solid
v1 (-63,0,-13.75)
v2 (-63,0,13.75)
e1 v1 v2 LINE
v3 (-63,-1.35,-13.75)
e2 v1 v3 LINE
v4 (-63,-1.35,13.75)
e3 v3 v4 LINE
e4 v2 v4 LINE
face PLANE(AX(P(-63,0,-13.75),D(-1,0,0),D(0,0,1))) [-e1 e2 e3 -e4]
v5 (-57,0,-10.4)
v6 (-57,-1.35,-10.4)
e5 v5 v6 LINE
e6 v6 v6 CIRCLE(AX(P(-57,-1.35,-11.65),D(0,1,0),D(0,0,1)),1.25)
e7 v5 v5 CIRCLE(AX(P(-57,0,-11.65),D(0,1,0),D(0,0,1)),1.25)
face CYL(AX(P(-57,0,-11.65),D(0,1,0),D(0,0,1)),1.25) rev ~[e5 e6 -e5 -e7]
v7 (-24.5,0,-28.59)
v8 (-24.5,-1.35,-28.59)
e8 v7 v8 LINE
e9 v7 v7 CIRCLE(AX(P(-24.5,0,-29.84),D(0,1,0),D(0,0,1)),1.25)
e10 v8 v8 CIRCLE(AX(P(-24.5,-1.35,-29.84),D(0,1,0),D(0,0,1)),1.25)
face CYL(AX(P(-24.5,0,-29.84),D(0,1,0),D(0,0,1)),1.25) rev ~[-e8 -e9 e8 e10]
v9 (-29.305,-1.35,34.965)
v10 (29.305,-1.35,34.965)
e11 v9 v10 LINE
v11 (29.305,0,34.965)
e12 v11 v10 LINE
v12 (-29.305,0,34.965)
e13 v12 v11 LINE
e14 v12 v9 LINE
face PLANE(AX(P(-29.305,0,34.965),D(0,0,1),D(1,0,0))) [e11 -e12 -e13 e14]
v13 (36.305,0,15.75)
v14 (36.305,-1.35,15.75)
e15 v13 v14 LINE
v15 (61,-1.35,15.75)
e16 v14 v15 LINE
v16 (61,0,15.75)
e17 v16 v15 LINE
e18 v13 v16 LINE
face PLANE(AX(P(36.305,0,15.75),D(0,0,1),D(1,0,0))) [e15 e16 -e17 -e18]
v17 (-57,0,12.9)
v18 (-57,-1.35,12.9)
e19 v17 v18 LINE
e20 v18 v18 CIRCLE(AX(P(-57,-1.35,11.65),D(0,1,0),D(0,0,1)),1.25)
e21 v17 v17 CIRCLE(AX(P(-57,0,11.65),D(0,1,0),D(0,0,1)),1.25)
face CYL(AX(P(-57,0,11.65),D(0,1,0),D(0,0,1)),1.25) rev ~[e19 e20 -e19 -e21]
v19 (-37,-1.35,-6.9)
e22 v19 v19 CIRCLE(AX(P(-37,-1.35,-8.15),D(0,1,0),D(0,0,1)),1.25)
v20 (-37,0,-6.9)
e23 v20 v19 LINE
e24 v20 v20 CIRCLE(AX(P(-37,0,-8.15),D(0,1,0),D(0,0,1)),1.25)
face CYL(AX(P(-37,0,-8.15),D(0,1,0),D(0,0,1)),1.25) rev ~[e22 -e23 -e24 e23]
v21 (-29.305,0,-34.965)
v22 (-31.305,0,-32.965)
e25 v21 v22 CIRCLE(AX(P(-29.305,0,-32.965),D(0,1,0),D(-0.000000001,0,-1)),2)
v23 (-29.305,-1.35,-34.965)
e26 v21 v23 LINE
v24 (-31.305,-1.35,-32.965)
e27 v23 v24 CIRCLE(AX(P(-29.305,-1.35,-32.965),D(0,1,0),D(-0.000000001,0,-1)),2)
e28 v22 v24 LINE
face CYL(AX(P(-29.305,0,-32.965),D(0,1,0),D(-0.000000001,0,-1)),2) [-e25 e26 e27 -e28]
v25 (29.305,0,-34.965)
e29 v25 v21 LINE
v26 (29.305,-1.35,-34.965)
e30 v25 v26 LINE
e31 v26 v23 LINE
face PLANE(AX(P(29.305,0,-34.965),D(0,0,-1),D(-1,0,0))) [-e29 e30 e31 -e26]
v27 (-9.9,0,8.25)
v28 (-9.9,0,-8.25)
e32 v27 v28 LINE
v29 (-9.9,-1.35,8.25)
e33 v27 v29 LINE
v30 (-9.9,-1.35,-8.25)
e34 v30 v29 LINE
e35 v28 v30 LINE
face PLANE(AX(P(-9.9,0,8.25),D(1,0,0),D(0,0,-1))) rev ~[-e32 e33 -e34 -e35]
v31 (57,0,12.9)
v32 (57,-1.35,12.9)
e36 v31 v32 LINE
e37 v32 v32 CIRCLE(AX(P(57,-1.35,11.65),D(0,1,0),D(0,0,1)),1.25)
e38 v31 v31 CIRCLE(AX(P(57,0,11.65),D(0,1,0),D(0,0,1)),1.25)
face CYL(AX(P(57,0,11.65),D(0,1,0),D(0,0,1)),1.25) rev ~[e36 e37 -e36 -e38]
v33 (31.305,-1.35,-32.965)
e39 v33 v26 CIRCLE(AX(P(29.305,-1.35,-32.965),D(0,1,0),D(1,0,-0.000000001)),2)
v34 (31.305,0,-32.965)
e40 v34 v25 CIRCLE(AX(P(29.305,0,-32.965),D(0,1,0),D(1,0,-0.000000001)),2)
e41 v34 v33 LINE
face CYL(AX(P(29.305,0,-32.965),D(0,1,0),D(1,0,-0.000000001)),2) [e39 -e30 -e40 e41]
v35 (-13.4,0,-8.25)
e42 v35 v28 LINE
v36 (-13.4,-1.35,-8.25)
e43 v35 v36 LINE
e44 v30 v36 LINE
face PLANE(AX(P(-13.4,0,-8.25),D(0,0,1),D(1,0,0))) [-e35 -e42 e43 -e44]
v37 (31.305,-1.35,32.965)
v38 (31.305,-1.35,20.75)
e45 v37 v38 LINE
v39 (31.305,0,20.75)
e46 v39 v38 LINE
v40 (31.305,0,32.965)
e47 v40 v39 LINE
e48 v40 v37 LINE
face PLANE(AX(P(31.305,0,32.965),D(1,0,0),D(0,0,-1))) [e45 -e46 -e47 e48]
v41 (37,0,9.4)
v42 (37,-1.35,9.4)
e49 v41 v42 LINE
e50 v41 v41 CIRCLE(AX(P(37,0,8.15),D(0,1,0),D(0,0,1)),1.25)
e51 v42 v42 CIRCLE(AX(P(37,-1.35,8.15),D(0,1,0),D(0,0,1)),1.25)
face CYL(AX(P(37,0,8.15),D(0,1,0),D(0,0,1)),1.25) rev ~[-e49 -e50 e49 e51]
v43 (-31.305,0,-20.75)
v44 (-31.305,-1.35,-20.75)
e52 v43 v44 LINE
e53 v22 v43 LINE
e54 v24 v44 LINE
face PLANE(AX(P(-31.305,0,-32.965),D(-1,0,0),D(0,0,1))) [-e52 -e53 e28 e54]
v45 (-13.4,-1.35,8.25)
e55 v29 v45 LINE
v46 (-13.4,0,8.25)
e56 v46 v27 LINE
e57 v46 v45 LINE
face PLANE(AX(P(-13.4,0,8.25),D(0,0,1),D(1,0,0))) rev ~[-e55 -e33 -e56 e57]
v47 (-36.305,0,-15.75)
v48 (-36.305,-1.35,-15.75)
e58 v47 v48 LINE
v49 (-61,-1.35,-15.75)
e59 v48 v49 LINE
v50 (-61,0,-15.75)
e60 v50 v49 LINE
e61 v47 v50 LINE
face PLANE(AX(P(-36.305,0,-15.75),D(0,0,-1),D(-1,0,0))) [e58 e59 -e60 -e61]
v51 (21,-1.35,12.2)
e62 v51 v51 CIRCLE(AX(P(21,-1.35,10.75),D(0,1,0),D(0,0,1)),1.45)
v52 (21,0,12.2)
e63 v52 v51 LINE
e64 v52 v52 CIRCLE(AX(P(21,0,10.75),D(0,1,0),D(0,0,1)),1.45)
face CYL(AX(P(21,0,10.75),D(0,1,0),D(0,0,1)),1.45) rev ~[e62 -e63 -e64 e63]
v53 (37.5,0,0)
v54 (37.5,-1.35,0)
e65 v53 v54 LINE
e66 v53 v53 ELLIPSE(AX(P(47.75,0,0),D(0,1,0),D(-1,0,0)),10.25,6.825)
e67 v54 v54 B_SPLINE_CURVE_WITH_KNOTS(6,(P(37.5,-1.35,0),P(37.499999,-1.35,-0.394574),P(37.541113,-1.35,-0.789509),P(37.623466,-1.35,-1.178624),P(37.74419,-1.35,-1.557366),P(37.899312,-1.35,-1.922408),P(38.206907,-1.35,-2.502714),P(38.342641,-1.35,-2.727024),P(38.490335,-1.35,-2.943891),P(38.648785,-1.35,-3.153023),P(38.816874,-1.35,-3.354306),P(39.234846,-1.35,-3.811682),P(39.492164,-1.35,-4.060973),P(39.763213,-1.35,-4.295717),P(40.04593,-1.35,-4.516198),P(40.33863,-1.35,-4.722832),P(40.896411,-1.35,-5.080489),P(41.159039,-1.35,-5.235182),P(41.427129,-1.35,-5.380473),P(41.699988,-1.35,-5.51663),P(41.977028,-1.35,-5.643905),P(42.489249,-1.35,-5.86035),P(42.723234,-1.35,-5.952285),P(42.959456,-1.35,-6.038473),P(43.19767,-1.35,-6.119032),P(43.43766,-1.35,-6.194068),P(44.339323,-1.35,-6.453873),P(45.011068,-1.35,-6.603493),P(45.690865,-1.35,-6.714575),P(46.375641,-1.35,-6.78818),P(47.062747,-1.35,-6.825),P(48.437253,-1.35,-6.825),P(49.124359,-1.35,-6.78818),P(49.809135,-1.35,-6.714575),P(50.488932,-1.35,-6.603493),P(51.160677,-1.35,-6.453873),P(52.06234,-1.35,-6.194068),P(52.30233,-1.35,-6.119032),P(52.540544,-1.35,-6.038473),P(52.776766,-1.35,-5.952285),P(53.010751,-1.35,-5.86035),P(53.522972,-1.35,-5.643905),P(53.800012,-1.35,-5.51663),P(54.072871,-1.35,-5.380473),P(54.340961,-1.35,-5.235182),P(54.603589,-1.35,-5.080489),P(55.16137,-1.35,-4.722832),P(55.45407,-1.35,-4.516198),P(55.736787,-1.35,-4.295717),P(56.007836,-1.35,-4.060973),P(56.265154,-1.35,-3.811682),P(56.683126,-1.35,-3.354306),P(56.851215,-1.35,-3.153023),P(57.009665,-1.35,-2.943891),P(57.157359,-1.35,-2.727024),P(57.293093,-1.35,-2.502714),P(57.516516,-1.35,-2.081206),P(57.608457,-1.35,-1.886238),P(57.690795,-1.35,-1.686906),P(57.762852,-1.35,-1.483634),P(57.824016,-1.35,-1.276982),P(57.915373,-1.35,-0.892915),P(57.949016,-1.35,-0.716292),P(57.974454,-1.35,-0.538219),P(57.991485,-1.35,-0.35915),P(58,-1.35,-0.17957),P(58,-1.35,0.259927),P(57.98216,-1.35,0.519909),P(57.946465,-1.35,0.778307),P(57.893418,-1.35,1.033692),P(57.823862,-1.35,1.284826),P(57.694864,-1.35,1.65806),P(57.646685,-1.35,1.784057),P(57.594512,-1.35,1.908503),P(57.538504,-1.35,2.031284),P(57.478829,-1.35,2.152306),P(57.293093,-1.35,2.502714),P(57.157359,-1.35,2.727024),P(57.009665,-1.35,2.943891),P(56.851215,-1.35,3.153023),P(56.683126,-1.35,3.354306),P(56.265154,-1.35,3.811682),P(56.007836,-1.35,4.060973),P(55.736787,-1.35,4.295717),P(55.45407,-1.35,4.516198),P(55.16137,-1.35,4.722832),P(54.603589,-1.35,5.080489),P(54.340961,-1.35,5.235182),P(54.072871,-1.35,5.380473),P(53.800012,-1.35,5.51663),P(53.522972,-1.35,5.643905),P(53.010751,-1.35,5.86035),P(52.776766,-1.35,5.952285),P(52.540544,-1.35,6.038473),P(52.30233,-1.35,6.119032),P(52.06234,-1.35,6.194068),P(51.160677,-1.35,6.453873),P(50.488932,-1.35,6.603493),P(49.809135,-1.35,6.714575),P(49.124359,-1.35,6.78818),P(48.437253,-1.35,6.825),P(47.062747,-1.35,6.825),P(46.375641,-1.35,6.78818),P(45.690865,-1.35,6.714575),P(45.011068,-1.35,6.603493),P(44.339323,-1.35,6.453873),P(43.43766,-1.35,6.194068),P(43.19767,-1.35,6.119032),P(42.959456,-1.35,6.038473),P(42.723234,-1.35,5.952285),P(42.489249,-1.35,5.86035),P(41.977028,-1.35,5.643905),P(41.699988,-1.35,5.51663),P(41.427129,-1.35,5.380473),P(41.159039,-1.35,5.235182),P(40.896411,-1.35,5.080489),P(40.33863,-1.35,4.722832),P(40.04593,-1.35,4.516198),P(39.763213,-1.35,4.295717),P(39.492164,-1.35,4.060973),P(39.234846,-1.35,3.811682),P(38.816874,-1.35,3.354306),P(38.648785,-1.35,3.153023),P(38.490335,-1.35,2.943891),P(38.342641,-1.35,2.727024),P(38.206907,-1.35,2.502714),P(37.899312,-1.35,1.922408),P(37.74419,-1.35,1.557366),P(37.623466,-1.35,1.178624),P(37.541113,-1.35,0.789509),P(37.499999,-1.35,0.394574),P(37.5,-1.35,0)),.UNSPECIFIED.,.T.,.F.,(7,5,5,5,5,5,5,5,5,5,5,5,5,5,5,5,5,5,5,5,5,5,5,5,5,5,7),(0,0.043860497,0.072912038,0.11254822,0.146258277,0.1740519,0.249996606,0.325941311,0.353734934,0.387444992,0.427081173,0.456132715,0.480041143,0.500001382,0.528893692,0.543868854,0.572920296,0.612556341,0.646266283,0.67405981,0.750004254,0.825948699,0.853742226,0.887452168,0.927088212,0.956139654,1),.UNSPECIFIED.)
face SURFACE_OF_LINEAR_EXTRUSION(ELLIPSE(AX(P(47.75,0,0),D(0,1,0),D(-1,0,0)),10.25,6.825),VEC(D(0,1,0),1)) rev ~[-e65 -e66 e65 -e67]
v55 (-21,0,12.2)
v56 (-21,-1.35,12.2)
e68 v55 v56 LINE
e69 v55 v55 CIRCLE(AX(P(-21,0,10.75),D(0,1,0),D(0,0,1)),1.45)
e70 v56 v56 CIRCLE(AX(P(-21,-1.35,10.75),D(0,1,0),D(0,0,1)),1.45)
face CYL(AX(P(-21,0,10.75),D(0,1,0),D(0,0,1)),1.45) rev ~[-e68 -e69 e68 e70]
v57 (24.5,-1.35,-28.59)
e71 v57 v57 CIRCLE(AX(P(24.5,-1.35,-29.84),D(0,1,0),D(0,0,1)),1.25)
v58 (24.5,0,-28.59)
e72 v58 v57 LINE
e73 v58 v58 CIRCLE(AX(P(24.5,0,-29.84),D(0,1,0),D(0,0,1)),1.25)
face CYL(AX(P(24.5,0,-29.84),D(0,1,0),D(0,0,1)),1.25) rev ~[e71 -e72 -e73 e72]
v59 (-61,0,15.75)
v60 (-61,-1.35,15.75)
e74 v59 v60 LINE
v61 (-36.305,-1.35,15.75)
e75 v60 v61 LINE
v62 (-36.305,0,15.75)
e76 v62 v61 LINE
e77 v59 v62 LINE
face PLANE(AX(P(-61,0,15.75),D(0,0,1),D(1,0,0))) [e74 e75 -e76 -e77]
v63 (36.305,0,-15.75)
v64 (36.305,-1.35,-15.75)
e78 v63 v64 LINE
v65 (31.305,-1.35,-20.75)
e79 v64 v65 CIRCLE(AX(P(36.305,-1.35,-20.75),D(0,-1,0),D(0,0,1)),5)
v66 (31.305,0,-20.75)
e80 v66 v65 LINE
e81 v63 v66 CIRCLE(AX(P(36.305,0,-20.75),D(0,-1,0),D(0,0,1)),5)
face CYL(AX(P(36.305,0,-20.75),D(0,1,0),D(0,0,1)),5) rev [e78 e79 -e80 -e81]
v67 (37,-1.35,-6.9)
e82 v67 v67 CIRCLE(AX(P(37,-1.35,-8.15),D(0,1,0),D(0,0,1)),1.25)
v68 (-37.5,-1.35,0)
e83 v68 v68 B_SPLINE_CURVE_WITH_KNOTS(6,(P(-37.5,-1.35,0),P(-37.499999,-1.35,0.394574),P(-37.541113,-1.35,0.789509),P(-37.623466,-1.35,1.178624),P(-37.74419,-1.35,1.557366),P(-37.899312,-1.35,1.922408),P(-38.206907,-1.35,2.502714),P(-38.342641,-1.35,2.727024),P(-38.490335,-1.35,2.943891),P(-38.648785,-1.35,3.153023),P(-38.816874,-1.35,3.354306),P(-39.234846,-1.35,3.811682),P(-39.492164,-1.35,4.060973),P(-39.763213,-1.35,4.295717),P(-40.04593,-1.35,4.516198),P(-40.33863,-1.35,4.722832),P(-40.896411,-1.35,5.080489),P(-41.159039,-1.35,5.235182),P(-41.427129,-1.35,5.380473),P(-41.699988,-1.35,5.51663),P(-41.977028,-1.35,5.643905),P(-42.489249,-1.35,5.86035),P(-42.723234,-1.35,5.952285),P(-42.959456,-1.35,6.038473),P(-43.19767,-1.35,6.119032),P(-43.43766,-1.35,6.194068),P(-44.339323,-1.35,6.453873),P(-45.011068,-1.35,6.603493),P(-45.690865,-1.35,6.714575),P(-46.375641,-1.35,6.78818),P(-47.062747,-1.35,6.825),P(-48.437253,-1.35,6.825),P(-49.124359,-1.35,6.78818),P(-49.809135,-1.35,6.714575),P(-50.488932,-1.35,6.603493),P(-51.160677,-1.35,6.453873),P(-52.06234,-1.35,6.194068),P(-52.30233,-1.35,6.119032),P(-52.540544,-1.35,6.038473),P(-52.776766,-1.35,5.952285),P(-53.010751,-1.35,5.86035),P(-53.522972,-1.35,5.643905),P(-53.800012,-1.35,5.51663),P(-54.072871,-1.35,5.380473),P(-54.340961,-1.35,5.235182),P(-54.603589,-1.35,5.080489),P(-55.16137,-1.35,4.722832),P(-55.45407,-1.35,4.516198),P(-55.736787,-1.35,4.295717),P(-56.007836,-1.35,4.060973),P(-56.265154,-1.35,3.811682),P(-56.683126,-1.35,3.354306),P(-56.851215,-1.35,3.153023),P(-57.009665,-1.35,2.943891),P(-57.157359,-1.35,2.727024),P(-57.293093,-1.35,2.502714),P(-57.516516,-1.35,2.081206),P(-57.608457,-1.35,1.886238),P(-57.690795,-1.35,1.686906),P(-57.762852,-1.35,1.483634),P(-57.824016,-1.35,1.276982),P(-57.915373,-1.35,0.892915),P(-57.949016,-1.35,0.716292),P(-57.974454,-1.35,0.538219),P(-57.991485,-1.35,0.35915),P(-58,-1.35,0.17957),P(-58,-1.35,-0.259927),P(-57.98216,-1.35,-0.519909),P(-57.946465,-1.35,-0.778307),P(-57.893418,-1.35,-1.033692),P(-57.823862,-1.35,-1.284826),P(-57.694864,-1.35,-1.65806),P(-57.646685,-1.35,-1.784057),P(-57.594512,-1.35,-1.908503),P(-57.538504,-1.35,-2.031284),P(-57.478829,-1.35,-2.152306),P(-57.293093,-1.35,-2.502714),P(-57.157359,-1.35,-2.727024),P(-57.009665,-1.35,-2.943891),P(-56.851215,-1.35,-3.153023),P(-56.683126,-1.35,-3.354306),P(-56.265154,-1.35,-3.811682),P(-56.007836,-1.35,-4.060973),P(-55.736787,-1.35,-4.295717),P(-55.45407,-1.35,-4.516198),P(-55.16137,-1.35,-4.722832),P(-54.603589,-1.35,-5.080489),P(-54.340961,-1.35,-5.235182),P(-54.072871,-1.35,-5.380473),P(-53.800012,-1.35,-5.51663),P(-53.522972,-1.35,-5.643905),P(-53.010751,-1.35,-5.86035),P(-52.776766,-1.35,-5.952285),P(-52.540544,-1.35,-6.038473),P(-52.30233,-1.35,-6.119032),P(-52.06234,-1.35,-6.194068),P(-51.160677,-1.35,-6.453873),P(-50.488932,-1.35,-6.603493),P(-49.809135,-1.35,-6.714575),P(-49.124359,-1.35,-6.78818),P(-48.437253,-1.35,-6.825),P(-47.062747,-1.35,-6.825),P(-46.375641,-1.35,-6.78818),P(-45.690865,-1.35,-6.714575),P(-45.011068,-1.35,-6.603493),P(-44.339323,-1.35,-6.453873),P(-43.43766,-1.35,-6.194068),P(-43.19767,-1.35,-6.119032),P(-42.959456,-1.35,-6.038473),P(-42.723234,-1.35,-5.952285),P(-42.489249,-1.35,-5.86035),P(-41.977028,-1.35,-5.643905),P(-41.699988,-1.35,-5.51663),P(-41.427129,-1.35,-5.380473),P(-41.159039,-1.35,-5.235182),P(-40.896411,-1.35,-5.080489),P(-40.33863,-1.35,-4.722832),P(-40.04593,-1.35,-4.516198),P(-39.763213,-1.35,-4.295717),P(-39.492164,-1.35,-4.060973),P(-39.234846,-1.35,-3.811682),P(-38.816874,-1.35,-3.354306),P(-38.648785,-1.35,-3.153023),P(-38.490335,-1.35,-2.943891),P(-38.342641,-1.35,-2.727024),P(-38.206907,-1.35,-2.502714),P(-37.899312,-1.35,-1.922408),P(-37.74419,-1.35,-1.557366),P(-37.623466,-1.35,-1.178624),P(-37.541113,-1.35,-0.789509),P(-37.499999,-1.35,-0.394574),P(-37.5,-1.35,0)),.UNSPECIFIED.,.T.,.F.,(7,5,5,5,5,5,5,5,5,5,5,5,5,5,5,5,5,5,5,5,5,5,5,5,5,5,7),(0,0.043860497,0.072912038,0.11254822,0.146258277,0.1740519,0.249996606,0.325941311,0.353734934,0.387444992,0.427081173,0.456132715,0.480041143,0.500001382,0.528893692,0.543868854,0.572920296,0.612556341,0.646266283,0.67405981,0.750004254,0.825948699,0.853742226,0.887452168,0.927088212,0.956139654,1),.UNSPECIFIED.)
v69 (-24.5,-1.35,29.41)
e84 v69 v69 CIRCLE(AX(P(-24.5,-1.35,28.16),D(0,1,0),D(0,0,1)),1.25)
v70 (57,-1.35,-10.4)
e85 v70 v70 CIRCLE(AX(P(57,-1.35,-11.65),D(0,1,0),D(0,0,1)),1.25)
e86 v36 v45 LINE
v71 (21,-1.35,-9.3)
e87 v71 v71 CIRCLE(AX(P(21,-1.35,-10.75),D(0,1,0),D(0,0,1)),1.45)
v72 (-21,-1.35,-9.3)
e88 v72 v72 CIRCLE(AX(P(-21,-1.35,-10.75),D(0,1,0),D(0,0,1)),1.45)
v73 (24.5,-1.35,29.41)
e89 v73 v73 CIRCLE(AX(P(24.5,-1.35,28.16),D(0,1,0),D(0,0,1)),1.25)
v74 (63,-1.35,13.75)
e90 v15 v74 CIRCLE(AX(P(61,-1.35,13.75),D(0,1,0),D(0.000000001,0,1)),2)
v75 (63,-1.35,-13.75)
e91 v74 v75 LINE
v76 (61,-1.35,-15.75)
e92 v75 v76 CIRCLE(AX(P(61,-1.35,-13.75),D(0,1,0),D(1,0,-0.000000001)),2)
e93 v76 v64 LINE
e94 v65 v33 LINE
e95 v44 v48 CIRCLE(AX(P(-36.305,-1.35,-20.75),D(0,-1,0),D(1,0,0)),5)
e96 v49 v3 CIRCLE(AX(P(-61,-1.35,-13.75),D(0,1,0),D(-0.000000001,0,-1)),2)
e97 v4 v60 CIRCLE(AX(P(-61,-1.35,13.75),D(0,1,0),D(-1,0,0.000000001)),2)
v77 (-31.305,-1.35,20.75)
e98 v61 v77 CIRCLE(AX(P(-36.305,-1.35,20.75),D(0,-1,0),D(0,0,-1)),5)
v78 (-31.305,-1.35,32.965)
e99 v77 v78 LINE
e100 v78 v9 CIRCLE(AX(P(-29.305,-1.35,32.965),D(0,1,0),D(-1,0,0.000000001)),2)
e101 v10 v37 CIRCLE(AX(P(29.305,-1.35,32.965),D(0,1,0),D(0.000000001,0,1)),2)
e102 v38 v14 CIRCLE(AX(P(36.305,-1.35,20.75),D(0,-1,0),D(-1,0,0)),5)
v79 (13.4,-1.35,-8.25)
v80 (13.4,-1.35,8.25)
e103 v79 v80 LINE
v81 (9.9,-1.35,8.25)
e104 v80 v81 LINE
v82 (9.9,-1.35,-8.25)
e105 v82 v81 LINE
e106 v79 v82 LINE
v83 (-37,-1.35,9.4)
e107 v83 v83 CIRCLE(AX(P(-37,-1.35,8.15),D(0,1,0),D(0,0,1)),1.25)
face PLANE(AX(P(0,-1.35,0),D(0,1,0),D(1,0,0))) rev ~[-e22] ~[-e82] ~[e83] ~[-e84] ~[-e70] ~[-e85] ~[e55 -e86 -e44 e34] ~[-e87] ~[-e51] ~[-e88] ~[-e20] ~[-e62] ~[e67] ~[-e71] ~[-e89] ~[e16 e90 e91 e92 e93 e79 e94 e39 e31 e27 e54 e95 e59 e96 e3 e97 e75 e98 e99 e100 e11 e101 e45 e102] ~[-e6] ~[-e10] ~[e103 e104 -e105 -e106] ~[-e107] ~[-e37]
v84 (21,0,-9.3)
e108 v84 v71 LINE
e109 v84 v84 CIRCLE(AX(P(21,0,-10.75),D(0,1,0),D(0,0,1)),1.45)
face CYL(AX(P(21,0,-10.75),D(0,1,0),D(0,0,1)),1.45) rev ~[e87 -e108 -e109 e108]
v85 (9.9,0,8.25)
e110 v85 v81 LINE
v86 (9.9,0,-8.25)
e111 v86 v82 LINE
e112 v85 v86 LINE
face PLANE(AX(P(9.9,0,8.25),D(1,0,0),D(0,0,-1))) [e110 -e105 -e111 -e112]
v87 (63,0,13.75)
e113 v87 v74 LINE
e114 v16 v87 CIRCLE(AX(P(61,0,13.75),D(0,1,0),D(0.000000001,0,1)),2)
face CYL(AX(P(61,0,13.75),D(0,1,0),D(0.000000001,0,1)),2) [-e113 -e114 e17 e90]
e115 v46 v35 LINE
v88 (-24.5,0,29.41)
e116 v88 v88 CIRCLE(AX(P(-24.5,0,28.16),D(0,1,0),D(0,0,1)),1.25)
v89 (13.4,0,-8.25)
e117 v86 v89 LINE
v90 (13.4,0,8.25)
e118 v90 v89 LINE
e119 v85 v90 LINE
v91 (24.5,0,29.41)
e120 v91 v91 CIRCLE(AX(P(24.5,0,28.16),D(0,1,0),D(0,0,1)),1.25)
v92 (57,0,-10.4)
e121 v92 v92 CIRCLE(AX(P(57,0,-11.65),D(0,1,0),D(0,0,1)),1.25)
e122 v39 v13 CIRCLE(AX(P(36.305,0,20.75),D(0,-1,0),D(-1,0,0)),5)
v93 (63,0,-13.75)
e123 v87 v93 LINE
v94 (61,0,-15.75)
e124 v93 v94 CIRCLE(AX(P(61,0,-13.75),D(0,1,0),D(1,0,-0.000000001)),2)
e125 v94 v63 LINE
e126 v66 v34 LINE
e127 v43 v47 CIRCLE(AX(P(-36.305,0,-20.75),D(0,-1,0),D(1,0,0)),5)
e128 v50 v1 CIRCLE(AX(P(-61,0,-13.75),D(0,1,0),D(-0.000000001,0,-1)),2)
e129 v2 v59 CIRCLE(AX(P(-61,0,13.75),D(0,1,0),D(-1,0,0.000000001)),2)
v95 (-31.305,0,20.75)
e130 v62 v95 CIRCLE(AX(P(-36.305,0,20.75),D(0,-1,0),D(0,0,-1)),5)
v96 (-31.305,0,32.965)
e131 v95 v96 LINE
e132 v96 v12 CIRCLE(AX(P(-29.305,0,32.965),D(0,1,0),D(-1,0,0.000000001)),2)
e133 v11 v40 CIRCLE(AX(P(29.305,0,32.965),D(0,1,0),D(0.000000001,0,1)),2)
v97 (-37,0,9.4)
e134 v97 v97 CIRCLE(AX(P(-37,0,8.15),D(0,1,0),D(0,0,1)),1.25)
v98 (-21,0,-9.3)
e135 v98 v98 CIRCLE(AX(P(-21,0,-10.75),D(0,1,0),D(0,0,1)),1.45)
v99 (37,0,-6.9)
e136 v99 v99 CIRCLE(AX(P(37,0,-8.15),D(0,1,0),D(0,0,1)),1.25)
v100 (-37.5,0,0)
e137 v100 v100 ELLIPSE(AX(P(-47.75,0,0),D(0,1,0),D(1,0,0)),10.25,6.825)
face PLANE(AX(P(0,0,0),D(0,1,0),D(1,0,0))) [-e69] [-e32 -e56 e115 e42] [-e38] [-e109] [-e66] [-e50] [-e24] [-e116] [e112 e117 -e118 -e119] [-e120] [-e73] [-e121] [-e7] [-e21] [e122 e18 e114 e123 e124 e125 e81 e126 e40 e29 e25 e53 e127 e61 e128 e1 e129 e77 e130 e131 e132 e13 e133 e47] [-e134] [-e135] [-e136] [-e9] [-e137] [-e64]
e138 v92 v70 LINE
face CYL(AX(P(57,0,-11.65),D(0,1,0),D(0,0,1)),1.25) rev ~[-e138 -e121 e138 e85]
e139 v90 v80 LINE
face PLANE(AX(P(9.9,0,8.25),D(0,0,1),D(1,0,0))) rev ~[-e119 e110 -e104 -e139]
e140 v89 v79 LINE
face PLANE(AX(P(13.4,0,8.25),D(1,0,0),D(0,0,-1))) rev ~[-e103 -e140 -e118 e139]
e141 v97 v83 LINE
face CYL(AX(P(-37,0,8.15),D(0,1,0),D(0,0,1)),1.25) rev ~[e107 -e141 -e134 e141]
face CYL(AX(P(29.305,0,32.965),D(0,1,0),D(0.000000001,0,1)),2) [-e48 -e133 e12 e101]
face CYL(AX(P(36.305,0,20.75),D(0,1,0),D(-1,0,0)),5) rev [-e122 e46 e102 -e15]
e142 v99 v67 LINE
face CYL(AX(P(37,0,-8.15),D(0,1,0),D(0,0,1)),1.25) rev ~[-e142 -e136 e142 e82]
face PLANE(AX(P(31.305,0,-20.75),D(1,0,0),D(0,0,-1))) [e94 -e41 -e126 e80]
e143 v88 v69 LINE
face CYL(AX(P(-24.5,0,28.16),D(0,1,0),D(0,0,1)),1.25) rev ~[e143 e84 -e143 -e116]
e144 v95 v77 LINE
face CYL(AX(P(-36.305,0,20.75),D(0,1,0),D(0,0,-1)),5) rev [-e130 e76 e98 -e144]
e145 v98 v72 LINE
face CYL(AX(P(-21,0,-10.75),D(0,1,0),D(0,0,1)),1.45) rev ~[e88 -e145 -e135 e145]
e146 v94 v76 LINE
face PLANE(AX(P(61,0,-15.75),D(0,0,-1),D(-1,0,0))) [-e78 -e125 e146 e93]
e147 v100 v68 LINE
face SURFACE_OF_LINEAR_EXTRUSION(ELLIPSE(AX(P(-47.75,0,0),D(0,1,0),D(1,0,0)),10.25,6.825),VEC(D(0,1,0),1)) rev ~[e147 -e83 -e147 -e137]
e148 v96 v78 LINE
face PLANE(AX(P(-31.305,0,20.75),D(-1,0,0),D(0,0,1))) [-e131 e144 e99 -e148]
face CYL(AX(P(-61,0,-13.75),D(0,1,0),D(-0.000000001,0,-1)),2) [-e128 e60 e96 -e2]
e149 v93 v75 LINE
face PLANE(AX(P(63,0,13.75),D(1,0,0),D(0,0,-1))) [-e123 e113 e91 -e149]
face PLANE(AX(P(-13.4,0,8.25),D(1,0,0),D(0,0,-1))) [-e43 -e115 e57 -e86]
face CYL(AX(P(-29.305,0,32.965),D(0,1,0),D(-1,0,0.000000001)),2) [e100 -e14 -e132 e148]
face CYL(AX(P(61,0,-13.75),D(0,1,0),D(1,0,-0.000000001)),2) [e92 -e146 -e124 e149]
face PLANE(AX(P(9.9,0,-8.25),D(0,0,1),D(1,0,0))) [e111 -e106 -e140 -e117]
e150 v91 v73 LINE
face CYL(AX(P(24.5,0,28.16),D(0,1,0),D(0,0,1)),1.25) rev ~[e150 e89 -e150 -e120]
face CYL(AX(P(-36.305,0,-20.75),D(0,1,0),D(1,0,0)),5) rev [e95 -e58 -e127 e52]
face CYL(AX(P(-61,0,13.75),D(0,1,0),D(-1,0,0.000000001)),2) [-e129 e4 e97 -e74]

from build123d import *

# Parameters (mm, degrees)
SKETCH2_R           = 1.45
SKETCH2_R_2         = 1.25
BOSS_EXTRUDE1_DEPTH = 1.35
CUT_EXTRUDE1_REACH  = 74.065
SKETCH5_RX          = 10.25
SKETCH5_RY          = 6.825
SKETCH5_W           = 3.5
SKETCH5_H           = 16.5


with BuildPart() as part:
    # Sketch2 → Boss-Extrude1 (new body)
    with BuildSketch(Plane(origin=(0, 0, 0), x_dir=(1, 0, 0), z_dir=(0, 1, 0))):
        with BuildLine():
            Line((-29.305, -34.965), (29.305, -34.965))
            ThreePointArc((29.305, -34.965), (30.719213562, -34.379213562), (31.305, -32.965))
            Line((31.305, -32.965), (31.305, -20.75))
            ThreePointArc((31.305, -20.75), (32.769466094, -17.214466094), (36.305, -15.75))
            Line((36.305, -15.75), (61, -15.75))
            ThreePointArc((61, -15.75), (62.414213562, -15.164213562), (63, -13.75))
            Line((63, -13.75), (63, 13.75))
            ThreePointArc((63, 13.75), (62.414213562, 15.164213562), (61, 15.75))
            Line((61, 15.75), (36.305, 15.75))
            ThreePointArc((36.305, 15.75), (32.769466094, 17.214466094), (31.305, 20.75))
            Line((31.305, 20.75), (31.305, 32.965))
            ThreePointArc((31.305, 32.965), (30.719213562, 34.379213562), (29.305, 34.965))
            Line((29.305, 34.965), (-29.305, 34.965))
            ThreePointArc((-29.305, 34.965), (-30.719213562, 34.379213562), (-31.305, 32.965))
            Line((-31.305, 32.965), (-31.305, 20.75))
            ThreePointArc((-31.305, 20.75), (-32.769466094, 17.214466094), (-36.305, 15.75))
            Line((-36.305, 15.75), (-61, 15.75))
            ThreePointArc((-61, 15.75), (-62.414213562, 15.164213562), (-63, 13.75))
            Line((-63, 13.75), (-63, -13.75))
            ThreePointArc((-63, -13.75), (-62.414213562, -15.164213562), (-61, -15.75))
            Line((-61, -15.75), (-36.305, -15.75))
            ThreePointArc((-36.305, -15.75), (-32.769466094, -17.214466094), (-31.305, -20.75))
            Line((-31.305, -20.75), (-31.305, -32.965))
            ThreePointArc((-31.305, -32.965), (-30.719213562, -34.379213562), (-29.305, -34.965))
        make_face()
        with Locations(Location((21, -10.75, 0), (0, 0, 270))):
            Circle(SKETCH2_R, mode=Mode.SUBTRACT)
        with Locations(Location((21, 10.75, 0), (0, 0, 270))):
            Circle(SKETCH2_R, mode=Mode.SUBTRACT)
        with Locations(Location((-21, 10.75, 0), (0, 0, 270))):
            Circle(SKETCH2_R, mode=Mode.SUBTRACT)
        with Locations(Location((-24.5, 29.84, 0), (0, 0, 270))):
            Circle(SKETCH2_R_2, mode=Mode.SUBTRACT)
        with Locations(Location((-21, -10.75, 0), (0, 0, 270))):
            Circle(SKETCH2_R, mode=Mode.SUBTRACT)
        with Locations(Location((-24.5, -28.16, 0), (0, 0, 270))):
            Circle(SKETCH2_R_2, mode=Mode.SUBTRACT)
        with Locations(Location((-57, -11.65, 0), (0, 0, 270))):
            Circle(SKETCH2_R_2, mode=Mode.SUBTRACT)
        with Locations(Location((24.5, -28.16, 0), (0, 0, 270))):
            Circle(SKETCH2_R_2, mode=Mode.SUBTRACT)
        with Locations(Location((-57, 11.65, 0), (0, 0, 270))):
            Circle(SKETCH2_R_2, mode=Mode.SUBTRACT)
        with Locations(Location((24.5, 29.84, 0), (0, 0, 270))):
            Circle(SKETCH2_R_2, mode=Mode.SUBTRACT)
        with Locations(Location((57, 11.65, 0), (0, 0, 270))):
            Circle(SKETCH2_R_2, mode=Mode.SUBTRACT)
        with Locations(Location((-37, 8.15, 0), (0, 0, 270))):
            Circle(SKETCH2_R_2, mode=Mode.SUBTRACT)
        with Locations(Location((-37, -8.15, 0), (0, 0, 270))):
            Circle(SKETCH2_R_2, mode=Mode.SUBTRACT)
        with Locations(Location((37, -8.15, 0), (0, 0, 270))):
            Circle(SKETCH2_R_2, mode=Mode.SUBTRACT)
        with Locations(Location((37, 8.15, 0), (0, 0, 270))):
            Circle(SKETCH2_R_2, mode=Mode.SUBTRACT)
        with Locations(Location((57, -11.65, 0), (0, 0, 270))):
            Circle(SKETCH2_R_2, mode=Mode.SUBTRACT)
    extrude(amount=-BOSS_EXTRUDE1_DEPTH)

    # Sketch5 → Cut-Extrude1 (cut, up to next)
    with BuildSketch(Plane(origin=(0, 0, 0), x_dir=(1, 0, 0), z_dir=(0, 1, 0)), mode=Mode.PRIVATE) as cut_extrude1_sk1:
        with Locations(Location((47.75, 0), (0, 0, 180))):
            Ellipse(SKETCH5_RX, SKETCH5_RY)
    cut_extrude1_tool1 = extrude(cut_extrude1_sk1.sketch, amount=-CUT_EXTRUDE1_REACH, mode=Mode.PRIVATE) & part.part
    # Sketch5 → Cut-Extrude1 (cut, up to next)
    with BuildSketch(Plane(origin=(0, 0, 0), x_dir=(1, 0, 0), z_dir=(0, 1, 0)), mode=Mode.PRIVATE) as cut_extrude1_sk2:
        with Locations(Location((-47.75, 0), (0, 0, 0))):
            Ellipse(SKETCH5_RX, SKETCH5_RY)
    cut_extrude1_tool2 = extrude(cut_extrude1_sk2.sketch, amount=-CUT_EXTRUDE1_REACH, mode=Mode.PRIVATE) & part.part
    # Sketch5 → Cut-Extrude1 (cut, up to next)
    with BuildSketch(Plane(origin=(0, 0, 0), x_dir=(1, 0, 0), z_dir=(0, 1, 0)), mode=Mode.PRIVATE) as cut_extrude1_sk3:
        with Locations((11.65, 0)):
            Rectangle(SKETCH5_W, SKETCH5_H)
    cut_extrude1_tool3 = extrude(cut_extrude1_sk3.sketch, amount=-CUT_EXTRUDE1_REACH, mode=Mode.PRIVATE) & part.part
    # Sketch5 → Cut-Extrude1 (cut, up to next)
    with BuildSketch(Plane(origin=(0, 0, 0), x_dir=(1, 0, 0), z_dir=(0, 1, 0)), mode=Mode.PRIVATE) as cut_extrude1_sk4:
        with Locations((-11.65, 0)):
            Rectangle(SKETCH5_W, SKETCH5_H)
    cut_extrude1_tool4 = extrude(cut_extrude1_sk4.sketch, amount=-CUT_EXTRUDE1_REACH, mode=Mode.PRIVATE) & part.part
    add(cut_extrude1_tool1.solids().sort_by_distance((47.75, 0, 0))[0], mode=Mode.SUBTRACT)
    add(cut_extrude1_tool2.solids().sort_by_distance((-47.75, 0, 0))[0], mode=Mode.SUBTRACT)
    add(cut_extrude1_tool3.solids().sort_by_distance((11.65, 0, 0))[0], mode=Mode.SUBTRACT)
    add(cut_extrude1_tool4.solids().sort_by_distance((-11.65, 0, 0))[0], mode=Mode.SUBTRACT)


solid = part.part
